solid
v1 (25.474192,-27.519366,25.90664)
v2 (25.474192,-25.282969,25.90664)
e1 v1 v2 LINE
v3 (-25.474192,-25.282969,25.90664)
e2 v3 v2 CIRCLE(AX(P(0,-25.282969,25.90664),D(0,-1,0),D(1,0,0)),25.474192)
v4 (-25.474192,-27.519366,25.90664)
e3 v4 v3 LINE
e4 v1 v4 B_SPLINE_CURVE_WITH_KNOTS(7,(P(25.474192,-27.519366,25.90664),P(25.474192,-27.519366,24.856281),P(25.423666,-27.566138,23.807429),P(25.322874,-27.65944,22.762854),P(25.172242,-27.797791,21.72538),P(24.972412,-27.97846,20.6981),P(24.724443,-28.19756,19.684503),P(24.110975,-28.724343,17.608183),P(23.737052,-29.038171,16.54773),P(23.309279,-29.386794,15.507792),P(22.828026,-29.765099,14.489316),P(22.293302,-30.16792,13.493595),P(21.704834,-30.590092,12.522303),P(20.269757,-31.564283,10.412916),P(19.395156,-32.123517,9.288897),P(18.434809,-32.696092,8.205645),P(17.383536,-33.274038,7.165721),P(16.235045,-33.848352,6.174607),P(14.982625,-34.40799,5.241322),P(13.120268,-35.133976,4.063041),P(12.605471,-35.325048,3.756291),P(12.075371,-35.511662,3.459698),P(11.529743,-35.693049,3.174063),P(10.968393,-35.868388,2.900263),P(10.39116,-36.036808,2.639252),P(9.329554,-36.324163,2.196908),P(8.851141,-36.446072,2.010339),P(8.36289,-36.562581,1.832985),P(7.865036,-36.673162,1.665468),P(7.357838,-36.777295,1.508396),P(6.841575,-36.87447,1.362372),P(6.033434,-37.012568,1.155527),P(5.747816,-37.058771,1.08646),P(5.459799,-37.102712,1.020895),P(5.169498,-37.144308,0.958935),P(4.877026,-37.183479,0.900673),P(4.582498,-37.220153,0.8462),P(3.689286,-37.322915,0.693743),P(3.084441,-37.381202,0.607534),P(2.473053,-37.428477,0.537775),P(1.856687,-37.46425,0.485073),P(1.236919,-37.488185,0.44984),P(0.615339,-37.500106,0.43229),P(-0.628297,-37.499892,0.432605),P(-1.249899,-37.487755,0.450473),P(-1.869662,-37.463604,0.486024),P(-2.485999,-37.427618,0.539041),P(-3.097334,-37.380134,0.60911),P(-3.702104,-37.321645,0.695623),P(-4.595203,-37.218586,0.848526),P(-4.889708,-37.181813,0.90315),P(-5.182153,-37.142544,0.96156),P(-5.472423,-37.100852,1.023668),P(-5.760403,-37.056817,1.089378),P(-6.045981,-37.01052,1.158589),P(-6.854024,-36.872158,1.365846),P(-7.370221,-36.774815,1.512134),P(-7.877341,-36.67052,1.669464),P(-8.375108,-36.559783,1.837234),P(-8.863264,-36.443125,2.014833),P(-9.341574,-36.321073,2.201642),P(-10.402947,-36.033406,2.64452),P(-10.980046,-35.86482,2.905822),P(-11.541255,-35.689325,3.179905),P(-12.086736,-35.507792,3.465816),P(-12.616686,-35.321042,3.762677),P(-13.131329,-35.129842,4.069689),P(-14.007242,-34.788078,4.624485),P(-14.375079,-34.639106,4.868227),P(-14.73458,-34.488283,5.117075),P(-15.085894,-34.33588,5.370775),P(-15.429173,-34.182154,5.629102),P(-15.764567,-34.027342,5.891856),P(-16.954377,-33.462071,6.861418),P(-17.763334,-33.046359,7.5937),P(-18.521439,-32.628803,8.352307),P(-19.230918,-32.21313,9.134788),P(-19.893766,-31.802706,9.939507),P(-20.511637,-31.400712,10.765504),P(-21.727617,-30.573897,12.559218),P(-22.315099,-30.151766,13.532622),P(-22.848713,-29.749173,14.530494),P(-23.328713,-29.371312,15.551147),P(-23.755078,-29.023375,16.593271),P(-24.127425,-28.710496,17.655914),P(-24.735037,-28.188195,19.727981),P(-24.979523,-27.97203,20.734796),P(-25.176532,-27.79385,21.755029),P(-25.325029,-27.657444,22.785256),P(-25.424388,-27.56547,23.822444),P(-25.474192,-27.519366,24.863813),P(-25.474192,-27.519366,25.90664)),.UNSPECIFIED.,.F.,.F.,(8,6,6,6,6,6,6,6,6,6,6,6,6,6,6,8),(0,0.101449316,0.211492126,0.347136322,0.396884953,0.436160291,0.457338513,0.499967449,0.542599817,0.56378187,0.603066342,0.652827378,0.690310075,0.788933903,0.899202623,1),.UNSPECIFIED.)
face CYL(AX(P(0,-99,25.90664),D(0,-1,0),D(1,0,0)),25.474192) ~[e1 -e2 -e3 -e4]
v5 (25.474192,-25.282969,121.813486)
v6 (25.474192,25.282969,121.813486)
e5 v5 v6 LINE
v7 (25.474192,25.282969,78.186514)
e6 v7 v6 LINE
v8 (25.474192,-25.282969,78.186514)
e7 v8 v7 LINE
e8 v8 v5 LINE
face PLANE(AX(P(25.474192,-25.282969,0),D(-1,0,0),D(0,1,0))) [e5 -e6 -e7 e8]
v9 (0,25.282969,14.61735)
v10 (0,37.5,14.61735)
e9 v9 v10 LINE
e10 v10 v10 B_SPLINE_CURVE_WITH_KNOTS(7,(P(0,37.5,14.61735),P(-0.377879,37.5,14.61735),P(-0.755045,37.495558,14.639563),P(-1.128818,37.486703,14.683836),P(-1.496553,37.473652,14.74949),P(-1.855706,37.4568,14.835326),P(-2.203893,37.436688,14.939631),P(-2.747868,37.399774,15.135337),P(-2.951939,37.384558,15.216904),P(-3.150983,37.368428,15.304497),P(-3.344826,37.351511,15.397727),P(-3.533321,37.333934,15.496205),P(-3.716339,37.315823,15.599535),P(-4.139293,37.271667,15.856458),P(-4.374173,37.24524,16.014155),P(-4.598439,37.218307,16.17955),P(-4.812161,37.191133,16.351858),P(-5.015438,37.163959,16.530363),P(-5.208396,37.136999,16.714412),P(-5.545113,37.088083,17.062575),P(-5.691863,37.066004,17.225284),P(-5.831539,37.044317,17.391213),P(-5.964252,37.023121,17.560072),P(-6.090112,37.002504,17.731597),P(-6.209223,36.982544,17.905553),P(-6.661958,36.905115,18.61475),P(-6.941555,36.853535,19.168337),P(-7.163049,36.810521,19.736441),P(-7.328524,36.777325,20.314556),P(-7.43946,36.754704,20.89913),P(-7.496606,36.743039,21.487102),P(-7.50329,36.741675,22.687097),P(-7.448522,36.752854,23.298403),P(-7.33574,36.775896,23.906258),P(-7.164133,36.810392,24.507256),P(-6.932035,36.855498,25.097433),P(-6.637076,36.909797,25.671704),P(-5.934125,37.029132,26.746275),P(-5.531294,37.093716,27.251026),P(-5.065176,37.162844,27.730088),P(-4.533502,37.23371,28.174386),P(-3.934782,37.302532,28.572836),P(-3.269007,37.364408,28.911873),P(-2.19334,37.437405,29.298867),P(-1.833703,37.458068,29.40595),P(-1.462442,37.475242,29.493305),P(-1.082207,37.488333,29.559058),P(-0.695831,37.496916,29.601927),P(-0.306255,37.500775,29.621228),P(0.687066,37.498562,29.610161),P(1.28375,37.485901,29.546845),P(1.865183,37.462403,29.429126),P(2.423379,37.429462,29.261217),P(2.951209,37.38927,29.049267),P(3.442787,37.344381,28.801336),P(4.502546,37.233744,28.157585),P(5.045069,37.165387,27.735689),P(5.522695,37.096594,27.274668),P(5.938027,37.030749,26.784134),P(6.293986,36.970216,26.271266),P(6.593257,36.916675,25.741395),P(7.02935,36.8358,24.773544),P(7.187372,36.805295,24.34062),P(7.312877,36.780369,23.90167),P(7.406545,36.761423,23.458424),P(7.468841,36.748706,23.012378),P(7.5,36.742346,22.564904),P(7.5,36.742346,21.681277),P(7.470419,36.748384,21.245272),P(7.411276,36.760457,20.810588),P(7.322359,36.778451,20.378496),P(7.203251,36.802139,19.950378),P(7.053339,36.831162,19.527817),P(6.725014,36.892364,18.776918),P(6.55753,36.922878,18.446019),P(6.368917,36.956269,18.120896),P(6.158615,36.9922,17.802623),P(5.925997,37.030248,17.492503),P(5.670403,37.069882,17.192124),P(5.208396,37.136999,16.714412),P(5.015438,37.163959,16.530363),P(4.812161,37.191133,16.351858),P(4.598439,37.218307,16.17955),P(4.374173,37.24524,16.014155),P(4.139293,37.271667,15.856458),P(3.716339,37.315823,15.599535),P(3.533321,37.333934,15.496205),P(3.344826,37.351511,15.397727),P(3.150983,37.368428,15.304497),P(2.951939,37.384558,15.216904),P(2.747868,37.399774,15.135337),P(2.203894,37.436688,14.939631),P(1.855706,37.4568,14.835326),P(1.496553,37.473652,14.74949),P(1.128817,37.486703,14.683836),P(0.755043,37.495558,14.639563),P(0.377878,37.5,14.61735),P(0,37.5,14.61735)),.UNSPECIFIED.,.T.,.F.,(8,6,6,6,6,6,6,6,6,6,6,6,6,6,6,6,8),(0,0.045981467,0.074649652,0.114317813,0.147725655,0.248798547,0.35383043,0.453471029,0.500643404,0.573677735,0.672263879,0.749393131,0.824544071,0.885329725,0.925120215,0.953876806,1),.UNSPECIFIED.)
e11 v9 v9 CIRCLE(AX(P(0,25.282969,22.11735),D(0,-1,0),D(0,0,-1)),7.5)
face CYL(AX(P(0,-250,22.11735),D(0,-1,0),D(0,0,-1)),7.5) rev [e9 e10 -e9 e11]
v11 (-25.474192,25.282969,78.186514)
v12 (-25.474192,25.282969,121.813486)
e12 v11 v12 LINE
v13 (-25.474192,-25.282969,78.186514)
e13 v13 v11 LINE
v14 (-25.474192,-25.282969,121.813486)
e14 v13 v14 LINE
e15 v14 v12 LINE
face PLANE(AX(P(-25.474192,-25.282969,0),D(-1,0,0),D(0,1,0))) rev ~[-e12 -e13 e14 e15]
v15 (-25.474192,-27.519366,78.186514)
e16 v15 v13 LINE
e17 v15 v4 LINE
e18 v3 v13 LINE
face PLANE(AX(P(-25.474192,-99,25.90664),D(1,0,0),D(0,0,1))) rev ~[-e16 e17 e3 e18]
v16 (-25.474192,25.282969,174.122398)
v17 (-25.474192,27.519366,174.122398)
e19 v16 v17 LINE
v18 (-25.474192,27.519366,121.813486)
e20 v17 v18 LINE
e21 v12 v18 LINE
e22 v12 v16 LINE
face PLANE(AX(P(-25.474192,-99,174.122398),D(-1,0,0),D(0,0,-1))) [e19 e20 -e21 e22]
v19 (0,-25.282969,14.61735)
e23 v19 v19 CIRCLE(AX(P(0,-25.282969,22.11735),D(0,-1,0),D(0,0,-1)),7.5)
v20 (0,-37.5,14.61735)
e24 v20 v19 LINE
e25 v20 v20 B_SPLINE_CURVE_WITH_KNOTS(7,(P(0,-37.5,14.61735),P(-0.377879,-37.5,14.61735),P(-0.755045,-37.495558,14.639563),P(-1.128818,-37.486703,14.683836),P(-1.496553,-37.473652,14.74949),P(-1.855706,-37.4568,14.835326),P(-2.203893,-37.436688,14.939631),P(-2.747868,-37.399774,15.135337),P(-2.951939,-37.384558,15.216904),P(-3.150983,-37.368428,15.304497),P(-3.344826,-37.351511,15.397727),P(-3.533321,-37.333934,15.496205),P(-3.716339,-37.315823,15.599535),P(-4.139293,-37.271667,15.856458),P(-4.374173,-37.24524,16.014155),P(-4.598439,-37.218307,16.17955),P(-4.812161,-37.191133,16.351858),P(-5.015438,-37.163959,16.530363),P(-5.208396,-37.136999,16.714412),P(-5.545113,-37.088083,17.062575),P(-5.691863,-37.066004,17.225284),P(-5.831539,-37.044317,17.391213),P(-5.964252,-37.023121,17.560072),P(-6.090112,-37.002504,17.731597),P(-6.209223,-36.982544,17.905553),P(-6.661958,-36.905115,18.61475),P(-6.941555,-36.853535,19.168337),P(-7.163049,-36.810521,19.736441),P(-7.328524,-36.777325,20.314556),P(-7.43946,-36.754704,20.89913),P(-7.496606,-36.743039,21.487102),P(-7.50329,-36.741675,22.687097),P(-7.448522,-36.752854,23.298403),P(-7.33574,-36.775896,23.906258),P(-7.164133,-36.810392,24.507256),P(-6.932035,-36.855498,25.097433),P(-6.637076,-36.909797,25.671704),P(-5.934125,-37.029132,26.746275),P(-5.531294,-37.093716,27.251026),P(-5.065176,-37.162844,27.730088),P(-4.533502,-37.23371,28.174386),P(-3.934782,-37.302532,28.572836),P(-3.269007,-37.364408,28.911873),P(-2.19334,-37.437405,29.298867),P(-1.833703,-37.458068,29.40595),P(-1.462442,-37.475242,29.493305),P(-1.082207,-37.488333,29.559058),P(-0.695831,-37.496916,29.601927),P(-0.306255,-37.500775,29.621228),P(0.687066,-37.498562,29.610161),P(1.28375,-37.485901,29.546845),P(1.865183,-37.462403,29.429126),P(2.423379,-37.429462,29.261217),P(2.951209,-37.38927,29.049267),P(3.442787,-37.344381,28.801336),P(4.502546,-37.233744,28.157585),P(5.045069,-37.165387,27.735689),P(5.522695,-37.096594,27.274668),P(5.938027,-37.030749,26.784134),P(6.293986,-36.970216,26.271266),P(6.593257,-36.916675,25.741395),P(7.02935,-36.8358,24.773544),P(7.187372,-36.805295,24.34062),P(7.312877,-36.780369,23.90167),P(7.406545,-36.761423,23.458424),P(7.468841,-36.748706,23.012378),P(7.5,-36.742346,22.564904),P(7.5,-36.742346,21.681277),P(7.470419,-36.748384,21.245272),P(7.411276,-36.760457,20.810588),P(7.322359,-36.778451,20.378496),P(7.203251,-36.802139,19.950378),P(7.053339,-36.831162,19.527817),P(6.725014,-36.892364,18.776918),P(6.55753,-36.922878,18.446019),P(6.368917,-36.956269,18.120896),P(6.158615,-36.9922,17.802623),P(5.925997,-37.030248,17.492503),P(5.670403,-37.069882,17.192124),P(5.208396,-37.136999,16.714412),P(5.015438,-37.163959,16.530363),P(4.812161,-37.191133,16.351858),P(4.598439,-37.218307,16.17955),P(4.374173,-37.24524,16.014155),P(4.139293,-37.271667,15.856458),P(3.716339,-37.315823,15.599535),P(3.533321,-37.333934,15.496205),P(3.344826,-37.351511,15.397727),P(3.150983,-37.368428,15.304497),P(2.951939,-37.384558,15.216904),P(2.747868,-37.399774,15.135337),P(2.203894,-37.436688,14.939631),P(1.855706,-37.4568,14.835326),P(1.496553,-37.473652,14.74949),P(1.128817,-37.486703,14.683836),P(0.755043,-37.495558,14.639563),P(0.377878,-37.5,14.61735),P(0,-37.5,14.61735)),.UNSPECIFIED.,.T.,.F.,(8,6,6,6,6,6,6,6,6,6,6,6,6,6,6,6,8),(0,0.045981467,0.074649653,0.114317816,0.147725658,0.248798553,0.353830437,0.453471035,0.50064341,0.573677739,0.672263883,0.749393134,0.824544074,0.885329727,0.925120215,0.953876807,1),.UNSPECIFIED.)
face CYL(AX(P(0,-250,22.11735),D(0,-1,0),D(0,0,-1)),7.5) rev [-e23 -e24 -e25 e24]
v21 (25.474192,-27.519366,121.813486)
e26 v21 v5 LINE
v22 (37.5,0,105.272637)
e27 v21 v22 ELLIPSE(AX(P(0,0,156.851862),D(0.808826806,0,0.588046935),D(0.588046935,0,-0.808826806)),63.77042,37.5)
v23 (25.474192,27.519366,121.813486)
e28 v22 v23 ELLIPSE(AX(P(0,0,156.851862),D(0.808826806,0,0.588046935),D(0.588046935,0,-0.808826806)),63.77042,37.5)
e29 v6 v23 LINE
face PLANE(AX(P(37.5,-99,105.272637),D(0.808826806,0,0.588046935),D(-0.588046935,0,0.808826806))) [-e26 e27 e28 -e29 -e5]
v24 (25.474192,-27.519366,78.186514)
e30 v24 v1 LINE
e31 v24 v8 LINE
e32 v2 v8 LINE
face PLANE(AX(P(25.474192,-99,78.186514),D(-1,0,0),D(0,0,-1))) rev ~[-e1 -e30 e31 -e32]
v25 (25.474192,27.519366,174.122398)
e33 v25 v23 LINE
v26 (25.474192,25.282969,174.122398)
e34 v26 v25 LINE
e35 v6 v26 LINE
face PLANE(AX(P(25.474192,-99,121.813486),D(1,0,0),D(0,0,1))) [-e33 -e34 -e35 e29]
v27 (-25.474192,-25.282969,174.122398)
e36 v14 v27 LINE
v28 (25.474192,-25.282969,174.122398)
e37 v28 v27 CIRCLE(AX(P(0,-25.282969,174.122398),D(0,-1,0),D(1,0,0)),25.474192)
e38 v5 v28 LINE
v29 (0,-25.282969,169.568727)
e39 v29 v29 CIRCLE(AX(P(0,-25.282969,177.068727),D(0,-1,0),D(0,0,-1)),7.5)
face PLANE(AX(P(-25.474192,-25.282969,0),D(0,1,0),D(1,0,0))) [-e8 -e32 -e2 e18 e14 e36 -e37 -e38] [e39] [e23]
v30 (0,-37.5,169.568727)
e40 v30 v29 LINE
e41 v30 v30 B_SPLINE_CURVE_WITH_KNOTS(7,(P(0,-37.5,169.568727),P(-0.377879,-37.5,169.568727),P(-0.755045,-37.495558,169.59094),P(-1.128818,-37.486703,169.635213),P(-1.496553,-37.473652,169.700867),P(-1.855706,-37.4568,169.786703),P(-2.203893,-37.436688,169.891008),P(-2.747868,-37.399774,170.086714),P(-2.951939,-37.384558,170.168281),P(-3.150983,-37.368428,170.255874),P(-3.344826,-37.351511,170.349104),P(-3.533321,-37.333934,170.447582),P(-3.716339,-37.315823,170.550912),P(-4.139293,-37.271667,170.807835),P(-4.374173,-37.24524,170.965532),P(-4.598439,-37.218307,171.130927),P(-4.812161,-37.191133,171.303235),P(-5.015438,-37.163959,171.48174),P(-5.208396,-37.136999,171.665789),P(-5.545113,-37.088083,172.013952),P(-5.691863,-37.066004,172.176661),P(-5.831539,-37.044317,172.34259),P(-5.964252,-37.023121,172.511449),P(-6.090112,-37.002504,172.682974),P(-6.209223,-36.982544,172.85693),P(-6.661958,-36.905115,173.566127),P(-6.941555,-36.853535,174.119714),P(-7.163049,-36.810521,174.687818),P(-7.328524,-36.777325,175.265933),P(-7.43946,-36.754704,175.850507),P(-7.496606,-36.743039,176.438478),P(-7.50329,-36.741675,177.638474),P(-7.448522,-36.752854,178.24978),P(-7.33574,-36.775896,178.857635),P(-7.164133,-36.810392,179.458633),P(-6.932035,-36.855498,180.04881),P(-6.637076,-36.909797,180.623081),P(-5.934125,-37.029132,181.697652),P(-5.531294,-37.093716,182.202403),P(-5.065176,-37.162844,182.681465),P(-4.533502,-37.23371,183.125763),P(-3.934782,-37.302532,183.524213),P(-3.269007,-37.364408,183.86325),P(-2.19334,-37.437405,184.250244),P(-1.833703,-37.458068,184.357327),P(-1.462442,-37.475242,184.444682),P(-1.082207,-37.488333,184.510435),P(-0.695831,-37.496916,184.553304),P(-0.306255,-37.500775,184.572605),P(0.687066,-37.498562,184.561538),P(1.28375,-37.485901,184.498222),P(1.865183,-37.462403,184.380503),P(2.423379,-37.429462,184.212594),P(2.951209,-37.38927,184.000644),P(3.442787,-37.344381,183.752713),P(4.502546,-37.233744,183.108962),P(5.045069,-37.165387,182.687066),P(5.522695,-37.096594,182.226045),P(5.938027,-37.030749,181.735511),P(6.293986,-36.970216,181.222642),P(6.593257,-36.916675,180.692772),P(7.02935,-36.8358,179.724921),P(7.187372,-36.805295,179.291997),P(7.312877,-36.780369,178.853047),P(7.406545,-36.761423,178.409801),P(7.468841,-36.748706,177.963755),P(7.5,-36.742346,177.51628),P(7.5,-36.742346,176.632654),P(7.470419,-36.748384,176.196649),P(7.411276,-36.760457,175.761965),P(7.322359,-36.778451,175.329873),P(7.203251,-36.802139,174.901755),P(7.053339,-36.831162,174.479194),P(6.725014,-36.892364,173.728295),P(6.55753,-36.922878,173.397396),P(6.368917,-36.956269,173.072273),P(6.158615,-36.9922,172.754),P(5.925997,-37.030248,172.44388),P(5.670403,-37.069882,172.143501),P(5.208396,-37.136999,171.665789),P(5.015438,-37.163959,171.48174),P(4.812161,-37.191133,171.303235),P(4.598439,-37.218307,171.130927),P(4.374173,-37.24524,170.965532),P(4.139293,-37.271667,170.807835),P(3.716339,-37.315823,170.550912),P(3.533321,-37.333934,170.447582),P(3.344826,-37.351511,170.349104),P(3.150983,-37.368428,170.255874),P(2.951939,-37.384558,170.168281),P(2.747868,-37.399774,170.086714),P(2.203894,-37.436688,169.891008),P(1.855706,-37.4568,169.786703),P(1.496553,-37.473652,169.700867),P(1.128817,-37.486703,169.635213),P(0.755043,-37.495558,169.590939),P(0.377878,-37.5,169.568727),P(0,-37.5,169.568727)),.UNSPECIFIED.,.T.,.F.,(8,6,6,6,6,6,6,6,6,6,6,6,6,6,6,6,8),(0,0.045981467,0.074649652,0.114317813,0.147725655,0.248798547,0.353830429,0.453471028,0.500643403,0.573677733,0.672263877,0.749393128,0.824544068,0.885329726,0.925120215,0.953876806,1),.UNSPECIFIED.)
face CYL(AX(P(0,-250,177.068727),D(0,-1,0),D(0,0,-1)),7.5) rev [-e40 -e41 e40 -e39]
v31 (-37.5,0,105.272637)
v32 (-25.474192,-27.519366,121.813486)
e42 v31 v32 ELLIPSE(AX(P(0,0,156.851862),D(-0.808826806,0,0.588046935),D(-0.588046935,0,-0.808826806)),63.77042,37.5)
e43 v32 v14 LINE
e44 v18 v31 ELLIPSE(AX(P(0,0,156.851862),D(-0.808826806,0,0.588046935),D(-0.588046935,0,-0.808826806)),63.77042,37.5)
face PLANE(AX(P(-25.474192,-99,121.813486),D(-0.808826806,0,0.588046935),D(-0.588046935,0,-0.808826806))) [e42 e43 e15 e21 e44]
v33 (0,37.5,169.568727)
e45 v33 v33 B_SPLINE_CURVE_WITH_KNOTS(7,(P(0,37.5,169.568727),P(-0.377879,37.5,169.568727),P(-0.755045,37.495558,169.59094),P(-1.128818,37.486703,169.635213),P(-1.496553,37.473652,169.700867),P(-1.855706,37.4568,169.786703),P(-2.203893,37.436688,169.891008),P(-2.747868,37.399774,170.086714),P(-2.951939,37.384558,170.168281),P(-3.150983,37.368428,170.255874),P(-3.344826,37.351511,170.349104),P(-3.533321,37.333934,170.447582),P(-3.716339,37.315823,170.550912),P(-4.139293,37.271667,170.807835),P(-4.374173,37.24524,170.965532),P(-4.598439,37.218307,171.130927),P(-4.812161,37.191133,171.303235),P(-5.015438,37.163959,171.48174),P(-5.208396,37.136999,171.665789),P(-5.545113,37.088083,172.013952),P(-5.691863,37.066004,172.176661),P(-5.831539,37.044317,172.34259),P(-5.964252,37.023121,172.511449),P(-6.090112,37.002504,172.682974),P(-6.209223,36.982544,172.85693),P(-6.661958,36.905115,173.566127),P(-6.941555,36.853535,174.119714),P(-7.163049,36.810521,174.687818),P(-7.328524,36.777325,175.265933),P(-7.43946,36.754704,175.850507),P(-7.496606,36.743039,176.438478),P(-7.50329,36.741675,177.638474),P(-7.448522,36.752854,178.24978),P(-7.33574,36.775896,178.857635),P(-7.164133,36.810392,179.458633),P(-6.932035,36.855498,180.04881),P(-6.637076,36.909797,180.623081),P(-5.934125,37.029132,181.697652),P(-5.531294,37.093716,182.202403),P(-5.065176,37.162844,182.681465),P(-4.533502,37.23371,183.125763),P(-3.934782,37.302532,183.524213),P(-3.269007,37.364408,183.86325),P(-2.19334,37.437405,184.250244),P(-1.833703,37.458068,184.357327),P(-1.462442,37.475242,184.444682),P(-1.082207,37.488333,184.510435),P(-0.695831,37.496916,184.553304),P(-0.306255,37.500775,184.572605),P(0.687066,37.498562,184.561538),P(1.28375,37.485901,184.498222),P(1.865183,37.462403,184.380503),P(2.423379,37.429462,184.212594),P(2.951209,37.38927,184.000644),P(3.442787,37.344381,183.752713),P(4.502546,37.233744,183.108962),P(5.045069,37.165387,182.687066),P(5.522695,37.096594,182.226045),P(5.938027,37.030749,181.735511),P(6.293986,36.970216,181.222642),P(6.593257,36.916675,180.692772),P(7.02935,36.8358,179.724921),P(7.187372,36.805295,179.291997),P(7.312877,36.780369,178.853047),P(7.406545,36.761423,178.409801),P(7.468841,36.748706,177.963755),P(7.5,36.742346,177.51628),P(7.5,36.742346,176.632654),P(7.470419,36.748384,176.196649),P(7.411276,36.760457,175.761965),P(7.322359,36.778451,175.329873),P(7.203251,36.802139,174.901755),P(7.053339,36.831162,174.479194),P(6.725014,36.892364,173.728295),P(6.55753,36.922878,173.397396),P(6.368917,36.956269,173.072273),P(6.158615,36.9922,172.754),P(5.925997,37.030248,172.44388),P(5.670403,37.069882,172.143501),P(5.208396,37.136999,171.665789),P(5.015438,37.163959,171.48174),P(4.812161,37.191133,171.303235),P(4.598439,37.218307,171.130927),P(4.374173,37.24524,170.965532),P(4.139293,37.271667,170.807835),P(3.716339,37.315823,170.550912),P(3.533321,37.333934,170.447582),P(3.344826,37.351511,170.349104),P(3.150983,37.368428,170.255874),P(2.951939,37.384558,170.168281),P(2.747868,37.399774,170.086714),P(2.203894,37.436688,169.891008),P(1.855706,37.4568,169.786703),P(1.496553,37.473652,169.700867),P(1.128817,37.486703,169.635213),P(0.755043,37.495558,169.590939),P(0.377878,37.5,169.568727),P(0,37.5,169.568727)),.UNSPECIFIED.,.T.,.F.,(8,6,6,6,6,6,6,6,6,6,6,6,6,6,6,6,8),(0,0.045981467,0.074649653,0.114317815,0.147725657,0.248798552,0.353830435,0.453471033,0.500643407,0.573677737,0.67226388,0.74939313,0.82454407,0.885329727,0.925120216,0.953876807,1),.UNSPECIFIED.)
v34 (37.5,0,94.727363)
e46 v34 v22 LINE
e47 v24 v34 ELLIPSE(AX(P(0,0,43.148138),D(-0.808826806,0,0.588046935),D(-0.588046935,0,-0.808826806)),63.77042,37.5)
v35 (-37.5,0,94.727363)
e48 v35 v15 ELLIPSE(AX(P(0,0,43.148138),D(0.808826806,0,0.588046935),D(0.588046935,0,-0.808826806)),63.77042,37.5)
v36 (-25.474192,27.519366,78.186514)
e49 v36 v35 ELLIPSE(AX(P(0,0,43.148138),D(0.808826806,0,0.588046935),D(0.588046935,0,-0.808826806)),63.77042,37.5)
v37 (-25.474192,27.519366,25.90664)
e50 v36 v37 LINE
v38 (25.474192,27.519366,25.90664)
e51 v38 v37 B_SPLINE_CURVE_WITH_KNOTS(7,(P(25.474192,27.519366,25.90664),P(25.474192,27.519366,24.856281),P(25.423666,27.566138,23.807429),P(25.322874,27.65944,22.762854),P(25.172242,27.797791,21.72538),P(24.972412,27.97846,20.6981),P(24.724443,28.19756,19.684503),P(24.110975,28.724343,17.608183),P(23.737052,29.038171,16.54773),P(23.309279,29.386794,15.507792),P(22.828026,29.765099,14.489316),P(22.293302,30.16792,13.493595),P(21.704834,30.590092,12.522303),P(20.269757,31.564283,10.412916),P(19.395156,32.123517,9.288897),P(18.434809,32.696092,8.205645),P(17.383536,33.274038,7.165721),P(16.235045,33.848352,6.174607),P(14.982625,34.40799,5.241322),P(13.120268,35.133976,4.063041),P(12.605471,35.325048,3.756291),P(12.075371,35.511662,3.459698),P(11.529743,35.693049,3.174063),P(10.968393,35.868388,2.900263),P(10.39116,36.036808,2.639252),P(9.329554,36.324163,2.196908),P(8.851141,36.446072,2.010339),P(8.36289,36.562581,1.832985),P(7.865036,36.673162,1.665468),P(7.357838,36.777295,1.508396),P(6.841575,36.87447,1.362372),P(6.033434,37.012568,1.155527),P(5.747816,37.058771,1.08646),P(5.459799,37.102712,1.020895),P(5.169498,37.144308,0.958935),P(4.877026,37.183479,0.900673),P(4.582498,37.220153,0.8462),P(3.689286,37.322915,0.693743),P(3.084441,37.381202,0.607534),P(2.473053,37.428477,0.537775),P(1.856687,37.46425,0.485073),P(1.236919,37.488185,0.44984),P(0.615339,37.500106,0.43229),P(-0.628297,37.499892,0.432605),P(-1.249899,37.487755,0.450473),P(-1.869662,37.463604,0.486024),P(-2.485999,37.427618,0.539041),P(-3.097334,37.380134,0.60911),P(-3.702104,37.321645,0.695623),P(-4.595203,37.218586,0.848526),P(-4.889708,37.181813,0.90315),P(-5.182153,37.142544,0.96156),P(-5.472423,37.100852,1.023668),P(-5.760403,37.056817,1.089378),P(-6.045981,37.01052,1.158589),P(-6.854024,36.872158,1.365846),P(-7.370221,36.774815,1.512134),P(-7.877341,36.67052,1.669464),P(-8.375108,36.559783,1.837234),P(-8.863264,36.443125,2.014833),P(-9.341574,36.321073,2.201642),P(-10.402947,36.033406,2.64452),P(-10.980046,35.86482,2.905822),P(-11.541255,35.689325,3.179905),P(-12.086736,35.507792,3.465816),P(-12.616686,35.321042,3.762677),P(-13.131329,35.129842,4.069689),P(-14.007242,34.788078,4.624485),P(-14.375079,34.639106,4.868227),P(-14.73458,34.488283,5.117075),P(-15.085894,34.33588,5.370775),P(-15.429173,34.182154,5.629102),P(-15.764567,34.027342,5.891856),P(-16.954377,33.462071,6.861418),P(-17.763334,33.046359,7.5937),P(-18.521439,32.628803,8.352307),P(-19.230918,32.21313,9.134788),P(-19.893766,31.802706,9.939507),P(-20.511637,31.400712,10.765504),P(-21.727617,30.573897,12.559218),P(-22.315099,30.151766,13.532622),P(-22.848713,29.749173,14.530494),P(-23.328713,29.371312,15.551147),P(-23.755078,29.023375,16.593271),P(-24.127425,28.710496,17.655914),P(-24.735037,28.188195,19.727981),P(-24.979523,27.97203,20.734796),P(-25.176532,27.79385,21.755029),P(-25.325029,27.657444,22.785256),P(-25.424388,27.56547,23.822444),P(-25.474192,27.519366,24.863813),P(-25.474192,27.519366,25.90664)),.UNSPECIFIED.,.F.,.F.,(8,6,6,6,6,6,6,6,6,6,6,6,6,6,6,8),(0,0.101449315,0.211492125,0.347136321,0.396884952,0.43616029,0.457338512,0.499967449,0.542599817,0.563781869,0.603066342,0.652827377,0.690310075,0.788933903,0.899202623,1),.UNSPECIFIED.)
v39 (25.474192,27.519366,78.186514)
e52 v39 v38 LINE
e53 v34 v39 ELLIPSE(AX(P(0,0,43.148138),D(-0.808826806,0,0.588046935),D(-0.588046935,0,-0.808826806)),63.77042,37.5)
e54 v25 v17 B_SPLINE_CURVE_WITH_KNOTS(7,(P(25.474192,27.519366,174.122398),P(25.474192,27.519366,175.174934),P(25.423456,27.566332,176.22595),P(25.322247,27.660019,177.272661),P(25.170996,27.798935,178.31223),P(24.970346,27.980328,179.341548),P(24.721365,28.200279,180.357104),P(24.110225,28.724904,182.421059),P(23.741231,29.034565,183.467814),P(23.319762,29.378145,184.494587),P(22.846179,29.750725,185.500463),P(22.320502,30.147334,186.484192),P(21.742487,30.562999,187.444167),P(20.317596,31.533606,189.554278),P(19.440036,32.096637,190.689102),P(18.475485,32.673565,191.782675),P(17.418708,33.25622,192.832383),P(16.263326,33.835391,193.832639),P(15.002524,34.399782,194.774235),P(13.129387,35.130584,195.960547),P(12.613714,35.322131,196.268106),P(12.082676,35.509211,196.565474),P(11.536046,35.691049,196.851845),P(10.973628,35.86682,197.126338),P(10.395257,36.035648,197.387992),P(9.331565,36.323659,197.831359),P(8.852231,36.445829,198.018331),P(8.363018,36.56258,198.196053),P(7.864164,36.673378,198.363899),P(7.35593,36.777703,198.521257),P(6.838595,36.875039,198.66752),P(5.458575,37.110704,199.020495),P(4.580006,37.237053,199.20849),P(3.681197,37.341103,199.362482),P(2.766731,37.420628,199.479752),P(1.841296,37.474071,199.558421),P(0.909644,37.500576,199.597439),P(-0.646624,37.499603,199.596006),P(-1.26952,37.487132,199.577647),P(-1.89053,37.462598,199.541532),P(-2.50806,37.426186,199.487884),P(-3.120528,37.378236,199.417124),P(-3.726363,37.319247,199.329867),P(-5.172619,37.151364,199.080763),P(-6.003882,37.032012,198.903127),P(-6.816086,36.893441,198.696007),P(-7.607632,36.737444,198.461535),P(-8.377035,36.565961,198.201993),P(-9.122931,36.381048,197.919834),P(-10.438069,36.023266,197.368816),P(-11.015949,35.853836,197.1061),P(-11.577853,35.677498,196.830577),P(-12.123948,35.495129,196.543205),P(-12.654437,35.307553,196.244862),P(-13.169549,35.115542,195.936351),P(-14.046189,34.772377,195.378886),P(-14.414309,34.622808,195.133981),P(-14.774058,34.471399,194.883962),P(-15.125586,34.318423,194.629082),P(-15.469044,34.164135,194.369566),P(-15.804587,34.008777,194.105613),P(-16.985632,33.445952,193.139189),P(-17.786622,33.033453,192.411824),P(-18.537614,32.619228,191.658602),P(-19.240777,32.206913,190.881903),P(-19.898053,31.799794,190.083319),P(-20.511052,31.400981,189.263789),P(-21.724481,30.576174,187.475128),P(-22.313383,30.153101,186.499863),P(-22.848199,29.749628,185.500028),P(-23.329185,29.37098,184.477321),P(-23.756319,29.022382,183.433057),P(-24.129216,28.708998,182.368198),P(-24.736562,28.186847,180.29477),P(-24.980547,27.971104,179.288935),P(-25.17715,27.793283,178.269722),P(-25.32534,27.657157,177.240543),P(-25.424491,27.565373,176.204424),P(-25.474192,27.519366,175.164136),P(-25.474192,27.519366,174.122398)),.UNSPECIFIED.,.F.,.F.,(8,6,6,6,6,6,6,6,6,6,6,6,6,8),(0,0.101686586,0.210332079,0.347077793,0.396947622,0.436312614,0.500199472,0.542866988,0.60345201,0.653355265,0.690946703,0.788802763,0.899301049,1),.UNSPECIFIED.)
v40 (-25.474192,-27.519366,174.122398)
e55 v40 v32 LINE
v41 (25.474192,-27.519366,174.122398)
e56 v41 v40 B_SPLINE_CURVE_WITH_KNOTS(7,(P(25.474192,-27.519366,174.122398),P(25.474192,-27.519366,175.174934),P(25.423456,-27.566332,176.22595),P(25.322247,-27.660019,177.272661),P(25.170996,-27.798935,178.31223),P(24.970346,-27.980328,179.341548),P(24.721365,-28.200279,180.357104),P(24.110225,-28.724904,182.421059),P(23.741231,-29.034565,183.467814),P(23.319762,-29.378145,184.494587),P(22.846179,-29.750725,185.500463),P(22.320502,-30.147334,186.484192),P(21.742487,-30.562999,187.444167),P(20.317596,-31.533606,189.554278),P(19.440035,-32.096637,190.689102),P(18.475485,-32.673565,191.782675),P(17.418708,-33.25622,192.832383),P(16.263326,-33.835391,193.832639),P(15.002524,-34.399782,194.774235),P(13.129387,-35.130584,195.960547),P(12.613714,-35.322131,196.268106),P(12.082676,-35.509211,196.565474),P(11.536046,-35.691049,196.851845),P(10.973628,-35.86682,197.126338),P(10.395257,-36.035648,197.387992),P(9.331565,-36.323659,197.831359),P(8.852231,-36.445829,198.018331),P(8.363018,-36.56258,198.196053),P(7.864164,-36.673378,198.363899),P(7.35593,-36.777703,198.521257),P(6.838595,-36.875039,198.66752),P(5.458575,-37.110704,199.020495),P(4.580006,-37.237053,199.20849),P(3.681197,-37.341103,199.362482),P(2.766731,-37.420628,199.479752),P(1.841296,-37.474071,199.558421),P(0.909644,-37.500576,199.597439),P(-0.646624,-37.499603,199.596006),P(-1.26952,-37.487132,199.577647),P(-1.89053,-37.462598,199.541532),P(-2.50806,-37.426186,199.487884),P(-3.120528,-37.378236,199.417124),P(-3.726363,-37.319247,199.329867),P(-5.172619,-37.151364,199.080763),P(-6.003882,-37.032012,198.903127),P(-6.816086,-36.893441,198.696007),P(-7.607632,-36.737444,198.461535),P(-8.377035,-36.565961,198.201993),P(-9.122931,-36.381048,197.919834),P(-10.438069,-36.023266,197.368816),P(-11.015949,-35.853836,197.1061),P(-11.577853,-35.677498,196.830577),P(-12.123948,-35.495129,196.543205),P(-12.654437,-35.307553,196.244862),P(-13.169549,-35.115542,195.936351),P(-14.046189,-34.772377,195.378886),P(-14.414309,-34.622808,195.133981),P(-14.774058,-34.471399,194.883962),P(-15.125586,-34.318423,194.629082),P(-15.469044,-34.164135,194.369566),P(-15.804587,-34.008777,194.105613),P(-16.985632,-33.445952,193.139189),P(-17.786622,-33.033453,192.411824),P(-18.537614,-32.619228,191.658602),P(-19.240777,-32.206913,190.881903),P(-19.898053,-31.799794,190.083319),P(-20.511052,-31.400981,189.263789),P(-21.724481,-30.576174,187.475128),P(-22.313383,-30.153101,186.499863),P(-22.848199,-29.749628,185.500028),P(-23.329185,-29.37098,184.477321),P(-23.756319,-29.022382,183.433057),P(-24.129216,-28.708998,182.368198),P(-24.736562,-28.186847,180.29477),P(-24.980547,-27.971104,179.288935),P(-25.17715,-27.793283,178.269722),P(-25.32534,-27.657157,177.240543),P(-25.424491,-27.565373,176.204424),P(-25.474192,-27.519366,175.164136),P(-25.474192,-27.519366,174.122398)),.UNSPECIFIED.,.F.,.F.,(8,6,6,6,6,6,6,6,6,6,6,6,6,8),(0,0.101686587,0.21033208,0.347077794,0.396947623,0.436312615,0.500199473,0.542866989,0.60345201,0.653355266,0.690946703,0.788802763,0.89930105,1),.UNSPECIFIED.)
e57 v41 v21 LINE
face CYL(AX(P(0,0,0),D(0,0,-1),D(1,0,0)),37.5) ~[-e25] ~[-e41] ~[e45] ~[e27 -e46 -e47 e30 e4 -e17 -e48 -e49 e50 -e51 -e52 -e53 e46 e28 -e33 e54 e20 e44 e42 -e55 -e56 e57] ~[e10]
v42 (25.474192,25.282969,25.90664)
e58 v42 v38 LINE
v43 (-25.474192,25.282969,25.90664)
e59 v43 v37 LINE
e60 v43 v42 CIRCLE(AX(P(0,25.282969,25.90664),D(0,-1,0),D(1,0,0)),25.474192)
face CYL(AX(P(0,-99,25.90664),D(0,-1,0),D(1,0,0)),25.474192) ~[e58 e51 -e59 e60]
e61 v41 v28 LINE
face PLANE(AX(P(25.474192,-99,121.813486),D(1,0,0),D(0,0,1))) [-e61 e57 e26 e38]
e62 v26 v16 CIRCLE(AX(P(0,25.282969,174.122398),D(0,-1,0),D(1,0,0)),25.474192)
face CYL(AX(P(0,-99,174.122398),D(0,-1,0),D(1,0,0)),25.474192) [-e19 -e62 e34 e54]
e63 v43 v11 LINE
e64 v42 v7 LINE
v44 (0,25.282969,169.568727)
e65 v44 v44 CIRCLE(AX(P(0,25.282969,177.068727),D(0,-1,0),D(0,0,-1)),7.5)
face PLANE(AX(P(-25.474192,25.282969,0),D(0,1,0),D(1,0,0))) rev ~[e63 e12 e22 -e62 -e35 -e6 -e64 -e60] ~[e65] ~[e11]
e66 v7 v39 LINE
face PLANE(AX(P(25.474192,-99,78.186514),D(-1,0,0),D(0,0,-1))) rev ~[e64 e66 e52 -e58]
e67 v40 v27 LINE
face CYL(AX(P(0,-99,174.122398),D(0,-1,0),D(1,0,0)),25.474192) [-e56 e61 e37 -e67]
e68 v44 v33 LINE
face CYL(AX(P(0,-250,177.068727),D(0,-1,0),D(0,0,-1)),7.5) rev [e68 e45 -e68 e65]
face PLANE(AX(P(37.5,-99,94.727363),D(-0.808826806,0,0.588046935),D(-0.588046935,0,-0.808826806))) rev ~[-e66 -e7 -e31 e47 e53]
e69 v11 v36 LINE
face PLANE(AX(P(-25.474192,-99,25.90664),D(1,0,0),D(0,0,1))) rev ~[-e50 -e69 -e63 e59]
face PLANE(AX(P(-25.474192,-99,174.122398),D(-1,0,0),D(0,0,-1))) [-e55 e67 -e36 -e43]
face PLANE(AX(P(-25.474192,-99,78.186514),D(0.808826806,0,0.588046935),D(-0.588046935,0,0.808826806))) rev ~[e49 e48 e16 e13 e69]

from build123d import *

# Parameters (mm, degrees)
SKETCH1_R               = 37.5
BOSS_EXTRUDE1_DEPTH     = 200
CUT_EXTRUDE1_DEPTH      = 80
CUT_EXTRUDE1_DEPTH_BACK = 99
SKETCH4_W               = 50.94838493
SKETCH4_H               = 50.56593793
CUT_EXTRUDE2_DEPTH      = 250
CUT_EXTRUDE3_DEPTH      = 250
CUT_EXTRUDE3_DEPTH_BACK = 250
SKETCH5_R               = 7.5


with BuildPart() as part:
    # Sketch1 → Boss-Extrude1 (new body)
    with BuildSketch(Plane.XY):
        Circle(SKETCH1_R)
    extrude(amount=BOSS_EXTRUDE1_DEPTH)

    # Sketch3 → Cut-Extrude1 (cut, two sides: drawn at the far end of the back side and taken through both)
    with BuildSketch(Plane(origin=(0, 0, 0), x_dir=(1, 0, 0), z_dir=(0, 1, 0)).offset(-CUT_EXTRUDE1_DEPTH_BACK)):
        with BuildLine():
            Line((-37.5, -200), (37.5, -200))
            Line((37.5, -200), (37.5, -105.272636972))
            Line((37.5, -105.272636972), (25.474192465, -121.813485854))
            Line((25.474192465, -121.813485854), (25.474192465, -174.122397941))
            ThreePointArc((25.474192465, -174.122397941), (0, -199.596590406), (-25.474192465, -174.122397941))
            Line((-25.474192465, -174.122397941), (-25.474192465, -121.813485854))
            Line((-25.474192465, -121.813485854), (-37.5, -105.272636972))
            Line((-37.5, -105.272636972), (-37.5, -200))
        make_face()
        with BuildLine():
            Line((-37.5, 0), (37.5, 0))
            Line((37.5, 0), (37.5, -94.727363028))
            Line((37.5, -94.727363028), (25.474192465, -78.186514146))
            Line((25.474192465, -78.186514146), (25.474192465, -25.906639532))
            ThreePointArc((25.474192465, -25.906639532), (0, -0.432447066), (-25.474192465, -25.906639532))
            Line((-25.474192465, -25.906639532), (-25.474192465, -78.186514146))
            Line((-25.474192465, -78.186514146), (-37.5, -94.727363028))
            Line((-37.5, -94.727363028), (-37.5, 0))
        make_face()
    extrude(amount=CUT_EXTRUDE1_DEPTH + CUT_EXTRUDE1_DEPTH_BACK, mode=Mode.SUBTRACT)

    # Sketch4 → Cut-Extrude2 (cut)
    with BuildSketch(Plane.XY):
        Rectangle(SKETCH4_W, SKETCH4_H)
    extrude(amount=CUT_EXTRUDE2_DEPTH, mode=Mode.SUBTRACT)

    # Sketch5 → Cut-Extrude3 (cut, two sides: drawn at the far end of the back side and taken through both)
    with BuildSketch(Plane(origin=(0, 0, 0), x_dir=(1, 0, 0), z_dir=(0, 1, 0)).offset(-CUT_EXTRUDE3_DEPTH_BACK)):
        with Locations(Location((0, -22.117350407, 0), (0, 0, 90))):
            Circle(SKETCH5_R)
        with Locations(Location((0, -177.068727344, 0), (0, 0, 90))):
            Circle(SKETCH5_R)
    extrude(amount=CUT_EXTRUDE3_DEPTH + CUT_EXTRUDE3_DEPTH_BACK, mode=Mode.SUBTRACT)


solid = part.part
